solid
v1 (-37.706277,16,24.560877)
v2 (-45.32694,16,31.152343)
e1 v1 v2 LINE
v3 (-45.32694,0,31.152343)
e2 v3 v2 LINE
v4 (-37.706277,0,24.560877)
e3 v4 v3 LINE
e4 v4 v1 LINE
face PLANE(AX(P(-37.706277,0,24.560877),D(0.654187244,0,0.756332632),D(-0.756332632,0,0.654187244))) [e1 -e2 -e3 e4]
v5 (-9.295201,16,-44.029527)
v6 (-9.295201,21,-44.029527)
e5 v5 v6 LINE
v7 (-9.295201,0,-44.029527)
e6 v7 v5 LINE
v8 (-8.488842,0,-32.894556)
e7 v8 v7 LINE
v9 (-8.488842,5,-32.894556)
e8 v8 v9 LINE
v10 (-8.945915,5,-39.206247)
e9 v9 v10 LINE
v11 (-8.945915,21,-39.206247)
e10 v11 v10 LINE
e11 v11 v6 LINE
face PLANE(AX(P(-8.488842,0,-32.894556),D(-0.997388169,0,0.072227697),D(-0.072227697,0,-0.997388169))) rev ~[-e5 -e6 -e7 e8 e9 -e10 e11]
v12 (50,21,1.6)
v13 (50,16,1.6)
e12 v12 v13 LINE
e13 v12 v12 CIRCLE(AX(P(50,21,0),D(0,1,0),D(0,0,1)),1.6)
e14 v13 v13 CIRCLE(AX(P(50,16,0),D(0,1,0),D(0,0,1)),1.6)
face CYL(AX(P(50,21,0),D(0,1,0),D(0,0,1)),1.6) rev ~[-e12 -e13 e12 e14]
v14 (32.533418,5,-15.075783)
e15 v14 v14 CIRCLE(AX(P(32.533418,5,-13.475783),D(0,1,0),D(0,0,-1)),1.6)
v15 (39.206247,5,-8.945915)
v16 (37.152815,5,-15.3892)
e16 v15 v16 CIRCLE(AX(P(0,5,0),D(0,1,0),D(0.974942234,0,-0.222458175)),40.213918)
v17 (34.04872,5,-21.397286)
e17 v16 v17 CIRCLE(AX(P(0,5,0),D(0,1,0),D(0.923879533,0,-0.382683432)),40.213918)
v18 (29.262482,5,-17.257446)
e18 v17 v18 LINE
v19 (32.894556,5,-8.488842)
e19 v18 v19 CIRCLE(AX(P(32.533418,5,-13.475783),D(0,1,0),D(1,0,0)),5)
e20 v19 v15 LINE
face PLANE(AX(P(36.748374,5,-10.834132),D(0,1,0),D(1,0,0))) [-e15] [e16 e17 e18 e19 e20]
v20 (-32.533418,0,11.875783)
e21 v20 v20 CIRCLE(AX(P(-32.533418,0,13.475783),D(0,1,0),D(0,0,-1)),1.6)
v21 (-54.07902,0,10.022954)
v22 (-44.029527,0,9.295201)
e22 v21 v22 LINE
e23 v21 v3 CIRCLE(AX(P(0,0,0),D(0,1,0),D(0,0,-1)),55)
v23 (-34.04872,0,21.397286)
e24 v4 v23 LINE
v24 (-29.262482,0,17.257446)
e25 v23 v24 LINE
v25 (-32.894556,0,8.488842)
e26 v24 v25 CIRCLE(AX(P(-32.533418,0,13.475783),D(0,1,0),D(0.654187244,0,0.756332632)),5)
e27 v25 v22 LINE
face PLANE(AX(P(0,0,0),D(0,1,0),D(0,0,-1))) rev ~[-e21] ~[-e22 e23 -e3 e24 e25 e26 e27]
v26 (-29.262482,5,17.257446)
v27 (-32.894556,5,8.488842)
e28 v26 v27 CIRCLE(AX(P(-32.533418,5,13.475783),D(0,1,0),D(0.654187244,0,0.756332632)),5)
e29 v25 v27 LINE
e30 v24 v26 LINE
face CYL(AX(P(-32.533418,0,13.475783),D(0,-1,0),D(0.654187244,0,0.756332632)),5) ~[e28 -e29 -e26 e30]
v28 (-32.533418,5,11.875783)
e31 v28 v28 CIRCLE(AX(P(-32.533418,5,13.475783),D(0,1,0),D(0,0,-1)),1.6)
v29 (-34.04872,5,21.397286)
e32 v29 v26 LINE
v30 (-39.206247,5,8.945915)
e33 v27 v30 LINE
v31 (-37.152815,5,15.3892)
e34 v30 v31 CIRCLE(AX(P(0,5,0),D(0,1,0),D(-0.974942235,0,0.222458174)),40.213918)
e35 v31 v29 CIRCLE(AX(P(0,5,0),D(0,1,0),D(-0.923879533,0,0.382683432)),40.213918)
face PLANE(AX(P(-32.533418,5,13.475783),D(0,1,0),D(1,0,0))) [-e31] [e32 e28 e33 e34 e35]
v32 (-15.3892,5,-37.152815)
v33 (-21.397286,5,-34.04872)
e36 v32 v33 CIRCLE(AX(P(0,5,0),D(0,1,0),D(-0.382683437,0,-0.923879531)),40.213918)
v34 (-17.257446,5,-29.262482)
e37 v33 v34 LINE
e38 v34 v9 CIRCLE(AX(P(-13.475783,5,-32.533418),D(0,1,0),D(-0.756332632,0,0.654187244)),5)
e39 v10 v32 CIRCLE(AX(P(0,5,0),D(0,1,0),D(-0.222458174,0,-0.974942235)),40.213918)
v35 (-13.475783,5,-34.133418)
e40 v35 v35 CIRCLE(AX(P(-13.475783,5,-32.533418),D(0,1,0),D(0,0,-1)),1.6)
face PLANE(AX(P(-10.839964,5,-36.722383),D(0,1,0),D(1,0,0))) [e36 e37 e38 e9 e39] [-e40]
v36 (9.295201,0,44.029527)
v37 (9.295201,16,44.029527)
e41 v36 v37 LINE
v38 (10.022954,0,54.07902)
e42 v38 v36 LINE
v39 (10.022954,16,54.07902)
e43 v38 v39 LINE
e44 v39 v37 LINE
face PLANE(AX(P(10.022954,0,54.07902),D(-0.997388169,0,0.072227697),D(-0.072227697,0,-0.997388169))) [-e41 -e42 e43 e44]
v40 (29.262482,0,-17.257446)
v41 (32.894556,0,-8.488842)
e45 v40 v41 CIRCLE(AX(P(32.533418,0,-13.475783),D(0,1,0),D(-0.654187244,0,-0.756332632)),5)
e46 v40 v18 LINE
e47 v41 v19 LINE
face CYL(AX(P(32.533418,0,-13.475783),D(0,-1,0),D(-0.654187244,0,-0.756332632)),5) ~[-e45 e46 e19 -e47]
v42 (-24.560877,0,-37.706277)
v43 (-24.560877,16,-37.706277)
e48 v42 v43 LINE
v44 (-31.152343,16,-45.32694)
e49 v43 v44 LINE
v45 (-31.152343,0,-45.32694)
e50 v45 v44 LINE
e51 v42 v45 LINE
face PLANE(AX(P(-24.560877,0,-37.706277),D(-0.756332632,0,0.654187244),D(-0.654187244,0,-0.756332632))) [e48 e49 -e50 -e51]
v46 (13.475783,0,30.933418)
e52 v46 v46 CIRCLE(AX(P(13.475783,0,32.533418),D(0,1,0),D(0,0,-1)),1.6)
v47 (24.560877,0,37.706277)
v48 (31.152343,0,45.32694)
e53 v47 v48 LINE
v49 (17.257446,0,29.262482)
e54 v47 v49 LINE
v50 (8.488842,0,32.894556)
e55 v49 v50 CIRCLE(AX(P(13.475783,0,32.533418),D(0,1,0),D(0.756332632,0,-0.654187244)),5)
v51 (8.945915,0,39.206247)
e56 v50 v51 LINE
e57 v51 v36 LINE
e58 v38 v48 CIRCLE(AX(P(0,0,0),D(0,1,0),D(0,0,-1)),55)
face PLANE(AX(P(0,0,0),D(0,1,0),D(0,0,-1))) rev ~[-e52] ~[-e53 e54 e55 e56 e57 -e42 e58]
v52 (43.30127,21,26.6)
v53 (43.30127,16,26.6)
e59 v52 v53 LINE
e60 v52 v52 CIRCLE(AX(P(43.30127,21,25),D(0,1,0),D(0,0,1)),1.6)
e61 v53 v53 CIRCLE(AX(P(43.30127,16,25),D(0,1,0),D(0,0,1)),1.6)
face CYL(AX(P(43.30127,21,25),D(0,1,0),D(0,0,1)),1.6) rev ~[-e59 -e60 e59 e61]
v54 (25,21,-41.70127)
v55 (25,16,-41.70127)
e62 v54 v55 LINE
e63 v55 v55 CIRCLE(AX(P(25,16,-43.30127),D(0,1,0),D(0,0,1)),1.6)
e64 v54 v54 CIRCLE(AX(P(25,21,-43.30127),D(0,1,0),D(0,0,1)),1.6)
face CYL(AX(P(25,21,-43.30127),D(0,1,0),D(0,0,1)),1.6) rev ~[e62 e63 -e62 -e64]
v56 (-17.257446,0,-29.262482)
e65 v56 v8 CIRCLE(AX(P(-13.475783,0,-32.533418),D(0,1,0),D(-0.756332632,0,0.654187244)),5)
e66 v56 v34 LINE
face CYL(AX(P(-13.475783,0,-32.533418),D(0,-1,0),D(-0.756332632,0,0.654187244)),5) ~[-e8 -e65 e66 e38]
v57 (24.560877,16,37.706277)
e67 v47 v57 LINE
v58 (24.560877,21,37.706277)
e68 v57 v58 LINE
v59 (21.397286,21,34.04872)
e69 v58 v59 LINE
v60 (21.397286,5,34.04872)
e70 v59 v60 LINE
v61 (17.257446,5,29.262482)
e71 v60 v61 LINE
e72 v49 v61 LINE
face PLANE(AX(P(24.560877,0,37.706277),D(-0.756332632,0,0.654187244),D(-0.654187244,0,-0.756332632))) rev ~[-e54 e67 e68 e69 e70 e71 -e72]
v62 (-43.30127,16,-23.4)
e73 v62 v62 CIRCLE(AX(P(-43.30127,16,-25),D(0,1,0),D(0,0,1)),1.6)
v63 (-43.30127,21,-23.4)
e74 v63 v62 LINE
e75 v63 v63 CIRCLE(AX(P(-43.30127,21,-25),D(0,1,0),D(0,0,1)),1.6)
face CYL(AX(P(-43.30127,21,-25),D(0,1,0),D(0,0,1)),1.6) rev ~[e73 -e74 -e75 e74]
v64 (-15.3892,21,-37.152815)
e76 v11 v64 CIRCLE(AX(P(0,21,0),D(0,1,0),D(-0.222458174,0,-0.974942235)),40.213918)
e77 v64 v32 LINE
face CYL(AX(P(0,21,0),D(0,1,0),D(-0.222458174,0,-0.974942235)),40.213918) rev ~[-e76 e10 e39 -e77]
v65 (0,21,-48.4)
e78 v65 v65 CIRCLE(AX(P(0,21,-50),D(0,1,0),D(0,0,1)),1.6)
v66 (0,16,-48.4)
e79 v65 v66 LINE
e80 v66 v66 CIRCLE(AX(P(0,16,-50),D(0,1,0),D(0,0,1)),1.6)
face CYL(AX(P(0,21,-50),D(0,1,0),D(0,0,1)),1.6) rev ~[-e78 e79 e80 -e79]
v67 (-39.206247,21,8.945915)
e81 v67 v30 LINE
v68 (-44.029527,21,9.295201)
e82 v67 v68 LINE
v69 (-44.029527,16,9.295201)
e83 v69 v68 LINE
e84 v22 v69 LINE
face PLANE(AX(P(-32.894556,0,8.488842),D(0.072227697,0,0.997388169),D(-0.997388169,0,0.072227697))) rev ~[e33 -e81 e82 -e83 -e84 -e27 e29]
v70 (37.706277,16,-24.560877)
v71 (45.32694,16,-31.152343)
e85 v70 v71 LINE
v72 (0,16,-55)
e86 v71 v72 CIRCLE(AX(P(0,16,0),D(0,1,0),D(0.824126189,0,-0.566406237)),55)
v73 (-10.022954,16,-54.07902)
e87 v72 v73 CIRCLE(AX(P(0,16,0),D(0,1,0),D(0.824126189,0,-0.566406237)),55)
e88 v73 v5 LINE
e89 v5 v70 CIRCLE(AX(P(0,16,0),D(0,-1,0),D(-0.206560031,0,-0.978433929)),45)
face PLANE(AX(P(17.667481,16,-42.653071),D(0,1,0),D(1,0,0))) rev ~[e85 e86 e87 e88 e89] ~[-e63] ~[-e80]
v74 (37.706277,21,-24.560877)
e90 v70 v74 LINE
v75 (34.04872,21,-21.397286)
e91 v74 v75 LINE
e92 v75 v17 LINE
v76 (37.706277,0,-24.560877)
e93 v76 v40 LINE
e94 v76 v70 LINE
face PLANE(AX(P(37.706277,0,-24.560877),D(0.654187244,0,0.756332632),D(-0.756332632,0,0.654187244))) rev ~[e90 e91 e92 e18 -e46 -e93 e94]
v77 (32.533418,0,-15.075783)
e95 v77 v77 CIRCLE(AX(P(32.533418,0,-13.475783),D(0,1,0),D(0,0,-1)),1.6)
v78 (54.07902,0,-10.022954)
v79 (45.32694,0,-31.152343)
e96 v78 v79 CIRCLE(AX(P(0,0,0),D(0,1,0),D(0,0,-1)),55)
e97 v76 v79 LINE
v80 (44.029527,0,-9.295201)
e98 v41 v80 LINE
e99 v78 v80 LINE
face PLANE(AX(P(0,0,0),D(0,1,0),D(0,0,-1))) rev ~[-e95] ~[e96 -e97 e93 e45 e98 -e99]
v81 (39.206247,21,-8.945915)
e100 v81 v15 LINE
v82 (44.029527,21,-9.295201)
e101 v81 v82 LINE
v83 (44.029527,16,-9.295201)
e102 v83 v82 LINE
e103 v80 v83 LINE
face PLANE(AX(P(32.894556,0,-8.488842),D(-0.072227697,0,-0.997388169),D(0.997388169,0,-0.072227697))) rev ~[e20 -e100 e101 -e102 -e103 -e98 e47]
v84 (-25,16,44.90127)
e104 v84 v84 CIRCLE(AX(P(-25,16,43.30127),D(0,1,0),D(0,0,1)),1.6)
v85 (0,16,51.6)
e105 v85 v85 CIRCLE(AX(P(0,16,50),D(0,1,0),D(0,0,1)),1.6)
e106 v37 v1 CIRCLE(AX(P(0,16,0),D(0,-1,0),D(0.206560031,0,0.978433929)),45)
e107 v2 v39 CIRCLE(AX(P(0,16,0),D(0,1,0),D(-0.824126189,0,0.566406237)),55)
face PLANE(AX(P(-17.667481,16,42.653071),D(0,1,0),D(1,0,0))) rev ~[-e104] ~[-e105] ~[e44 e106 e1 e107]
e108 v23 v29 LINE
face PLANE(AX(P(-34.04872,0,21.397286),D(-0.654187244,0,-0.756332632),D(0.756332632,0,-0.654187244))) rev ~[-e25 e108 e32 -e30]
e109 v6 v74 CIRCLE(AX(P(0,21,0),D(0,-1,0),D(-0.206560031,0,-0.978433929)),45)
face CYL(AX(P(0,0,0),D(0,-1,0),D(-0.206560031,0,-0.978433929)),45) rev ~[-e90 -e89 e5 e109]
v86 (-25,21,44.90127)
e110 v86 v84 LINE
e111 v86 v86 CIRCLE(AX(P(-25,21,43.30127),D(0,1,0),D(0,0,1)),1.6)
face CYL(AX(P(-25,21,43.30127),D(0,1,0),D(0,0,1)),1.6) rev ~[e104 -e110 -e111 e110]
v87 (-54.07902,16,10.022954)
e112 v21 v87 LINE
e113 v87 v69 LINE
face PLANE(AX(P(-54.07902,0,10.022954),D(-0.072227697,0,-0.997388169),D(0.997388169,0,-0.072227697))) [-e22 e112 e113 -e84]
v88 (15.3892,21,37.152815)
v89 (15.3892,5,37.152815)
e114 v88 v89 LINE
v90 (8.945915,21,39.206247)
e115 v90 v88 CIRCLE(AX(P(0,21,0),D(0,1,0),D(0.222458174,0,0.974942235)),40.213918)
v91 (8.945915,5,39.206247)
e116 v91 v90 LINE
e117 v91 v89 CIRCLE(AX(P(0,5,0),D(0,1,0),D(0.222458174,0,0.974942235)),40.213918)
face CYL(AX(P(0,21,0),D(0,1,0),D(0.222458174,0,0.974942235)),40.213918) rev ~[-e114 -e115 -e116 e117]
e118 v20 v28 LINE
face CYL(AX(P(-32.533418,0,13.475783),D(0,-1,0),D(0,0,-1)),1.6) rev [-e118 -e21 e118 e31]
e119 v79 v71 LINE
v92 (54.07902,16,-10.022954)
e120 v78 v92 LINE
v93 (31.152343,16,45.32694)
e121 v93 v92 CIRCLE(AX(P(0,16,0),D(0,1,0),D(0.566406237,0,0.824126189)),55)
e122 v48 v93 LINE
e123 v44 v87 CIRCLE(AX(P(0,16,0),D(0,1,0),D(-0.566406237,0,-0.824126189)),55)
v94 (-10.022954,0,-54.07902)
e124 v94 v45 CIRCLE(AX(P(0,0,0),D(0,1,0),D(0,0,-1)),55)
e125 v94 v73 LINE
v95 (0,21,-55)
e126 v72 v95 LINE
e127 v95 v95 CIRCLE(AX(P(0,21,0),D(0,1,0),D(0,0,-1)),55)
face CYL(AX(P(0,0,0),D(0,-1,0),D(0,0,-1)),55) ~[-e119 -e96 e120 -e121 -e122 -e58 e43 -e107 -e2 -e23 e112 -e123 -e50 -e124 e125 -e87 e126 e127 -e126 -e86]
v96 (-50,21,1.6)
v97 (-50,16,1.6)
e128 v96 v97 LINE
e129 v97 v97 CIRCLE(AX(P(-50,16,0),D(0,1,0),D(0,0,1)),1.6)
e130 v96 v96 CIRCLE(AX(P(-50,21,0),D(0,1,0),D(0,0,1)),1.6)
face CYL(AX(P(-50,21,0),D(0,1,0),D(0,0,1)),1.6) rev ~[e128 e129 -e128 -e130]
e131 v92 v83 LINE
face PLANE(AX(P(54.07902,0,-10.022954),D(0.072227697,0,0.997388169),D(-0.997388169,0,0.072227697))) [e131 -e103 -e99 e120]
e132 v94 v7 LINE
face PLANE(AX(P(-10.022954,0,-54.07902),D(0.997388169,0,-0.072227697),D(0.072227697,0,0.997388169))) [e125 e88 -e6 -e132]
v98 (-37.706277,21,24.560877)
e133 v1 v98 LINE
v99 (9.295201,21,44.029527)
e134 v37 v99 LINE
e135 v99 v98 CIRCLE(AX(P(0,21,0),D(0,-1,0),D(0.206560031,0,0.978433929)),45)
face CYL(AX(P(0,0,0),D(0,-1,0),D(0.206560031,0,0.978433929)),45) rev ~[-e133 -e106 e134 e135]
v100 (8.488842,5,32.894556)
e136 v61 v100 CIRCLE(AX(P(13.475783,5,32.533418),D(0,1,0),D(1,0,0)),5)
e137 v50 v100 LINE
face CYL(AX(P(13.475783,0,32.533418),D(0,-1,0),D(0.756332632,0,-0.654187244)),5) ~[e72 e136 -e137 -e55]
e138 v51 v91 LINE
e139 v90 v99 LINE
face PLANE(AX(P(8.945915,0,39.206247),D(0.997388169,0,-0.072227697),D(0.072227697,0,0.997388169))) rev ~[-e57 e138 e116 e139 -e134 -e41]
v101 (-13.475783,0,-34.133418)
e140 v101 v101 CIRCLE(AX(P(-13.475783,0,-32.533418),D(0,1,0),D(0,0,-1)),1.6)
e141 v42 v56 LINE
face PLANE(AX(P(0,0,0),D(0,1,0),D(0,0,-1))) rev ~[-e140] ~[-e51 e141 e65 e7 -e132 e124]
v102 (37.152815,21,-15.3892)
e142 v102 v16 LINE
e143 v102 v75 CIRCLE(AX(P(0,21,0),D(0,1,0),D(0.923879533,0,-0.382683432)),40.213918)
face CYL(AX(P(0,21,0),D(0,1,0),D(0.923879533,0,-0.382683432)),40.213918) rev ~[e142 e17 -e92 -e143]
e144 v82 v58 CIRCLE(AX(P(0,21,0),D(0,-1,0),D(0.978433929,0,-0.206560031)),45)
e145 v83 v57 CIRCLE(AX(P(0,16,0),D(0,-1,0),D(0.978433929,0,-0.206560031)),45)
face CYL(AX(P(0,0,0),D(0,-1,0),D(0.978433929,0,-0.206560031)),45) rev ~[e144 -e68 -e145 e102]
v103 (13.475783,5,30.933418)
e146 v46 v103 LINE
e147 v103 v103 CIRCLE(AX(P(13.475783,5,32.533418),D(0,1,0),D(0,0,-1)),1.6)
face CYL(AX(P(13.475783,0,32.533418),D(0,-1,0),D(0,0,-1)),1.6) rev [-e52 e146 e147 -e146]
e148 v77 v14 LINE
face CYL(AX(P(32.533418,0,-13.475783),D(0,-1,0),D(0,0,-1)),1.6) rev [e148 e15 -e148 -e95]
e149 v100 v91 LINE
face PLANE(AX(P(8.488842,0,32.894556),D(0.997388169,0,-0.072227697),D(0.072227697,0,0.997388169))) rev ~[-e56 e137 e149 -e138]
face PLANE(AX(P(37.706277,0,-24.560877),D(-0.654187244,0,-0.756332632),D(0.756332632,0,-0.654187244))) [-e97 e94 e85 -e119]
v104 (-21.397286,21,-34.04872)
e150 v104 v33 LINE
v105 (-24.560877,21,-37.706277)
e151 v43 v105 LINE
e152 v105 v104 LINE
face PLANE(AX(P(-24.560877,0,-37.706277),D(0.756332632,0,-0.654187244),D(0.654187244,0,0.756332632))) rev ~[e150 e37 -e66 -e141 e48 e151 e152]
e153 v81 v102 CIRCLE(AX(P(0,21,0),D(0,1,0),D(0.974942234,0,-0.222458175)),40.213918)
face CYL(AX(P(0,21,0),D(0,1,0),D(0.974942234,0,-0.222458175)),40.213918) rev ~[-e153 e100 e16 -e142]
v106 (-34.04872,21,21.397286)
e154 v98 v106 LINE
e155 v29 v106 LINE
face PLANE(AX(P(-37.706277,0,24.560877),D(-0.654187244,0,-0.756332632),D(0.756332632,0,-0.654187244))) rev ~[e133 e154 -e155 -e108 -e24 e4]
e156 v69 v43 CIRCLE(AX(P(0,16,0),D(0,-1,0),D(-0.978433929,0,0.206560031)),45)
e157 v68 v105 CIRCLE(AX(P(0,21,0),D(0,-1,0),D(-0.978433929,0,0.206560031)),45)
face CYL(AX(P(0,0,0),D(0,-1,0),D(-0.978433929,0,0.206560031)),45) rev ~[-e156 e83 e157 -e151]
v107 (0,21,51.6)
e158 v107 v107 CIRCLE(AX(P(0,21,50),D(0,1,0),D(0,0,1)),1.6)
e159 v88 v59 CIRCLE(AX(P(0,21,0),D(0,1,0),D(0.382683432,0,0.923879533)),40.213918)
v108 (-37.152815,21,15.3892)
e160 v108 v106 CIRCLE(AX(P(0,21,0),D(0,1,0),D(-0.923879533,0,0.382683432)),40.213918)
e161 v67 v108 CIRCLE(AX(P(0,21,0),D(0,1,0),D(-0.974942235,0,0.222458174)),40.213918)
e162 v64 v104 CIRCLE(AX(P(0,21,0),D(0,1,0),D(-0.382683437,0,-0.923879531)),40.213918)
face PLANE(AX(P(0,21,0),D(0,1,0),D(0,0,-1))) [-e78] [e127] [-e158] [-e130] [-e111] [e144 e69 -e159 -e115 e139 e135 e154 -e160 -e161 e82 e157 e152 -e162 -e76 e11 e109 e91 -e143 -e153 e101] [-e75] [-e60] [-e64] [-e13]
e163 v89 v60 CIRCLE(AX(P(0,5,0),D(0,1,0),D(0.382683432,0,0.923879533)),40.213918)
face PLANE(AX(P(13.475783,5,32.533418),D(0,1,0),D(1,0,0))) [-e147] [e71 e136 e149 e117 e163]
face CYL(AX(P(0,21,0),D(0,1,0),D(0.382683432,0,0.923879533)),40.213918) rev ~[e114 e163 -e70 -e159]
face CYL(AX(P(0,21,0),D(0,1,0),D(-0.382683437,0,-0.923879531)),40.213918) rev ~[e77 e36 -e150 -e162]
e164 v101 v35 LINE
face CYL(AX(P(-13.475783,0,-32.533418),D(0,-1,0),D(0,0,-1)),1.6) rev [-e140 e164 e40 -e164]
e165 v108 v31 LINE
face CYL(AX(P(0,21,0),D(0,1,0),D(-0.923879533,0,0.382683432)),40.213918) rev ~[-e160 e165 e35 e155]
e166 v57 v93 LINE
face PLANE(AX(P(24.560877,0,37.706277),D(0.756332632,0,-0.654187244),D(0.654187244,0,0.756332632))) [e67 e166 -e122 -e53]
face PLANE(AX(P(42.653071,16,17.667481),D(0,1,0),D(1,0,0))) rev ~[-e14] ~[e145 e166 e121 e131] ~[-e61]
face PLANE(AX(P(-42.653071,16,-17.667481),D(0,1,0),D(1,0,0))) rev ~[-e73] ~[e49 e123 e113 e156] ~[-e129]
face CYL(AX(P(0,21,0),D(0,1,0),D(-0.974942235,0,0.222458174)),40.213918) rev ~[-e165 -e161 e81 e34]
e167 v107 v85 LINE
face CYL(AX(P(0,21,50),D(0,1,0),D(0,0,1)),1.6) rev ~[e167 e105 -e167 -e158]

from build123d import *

# Parameters (mm, degrees)
SKETCH1_R           = 55
SKETCH1_R_2         = 1.6
BOSS_EXTRUDE8_DEPTH = 21
CUT_EXTRUDE1_DEPTH  = 16
CUT_EXTRUDE7_START  = 21
SKETCH1_22_R        = 5
SKETCH1_22_R_2      = 1.6
CUT_EXTRUDE7_DEPTH  = 16
SKETCH6_R           = 1.6
CUT_EXTRUDE8_DEPTH  = 81.566742518


with BuildPart() as part:
    # Sketch1 → Boss-Extrude8 (new body)
    with BuildSketch(Plane(origin=(0, 0, 0), x_dir=(1, 0, 0), z_dir=(0, 1, 0))):
        with Locations(Location((0, 0, 0), (0, 0, 90))):
            Circle(SKETCH1_R)
        with BuildLine():
            Line((-24.560877041, 37.706276918), (-17.257446053, 29.262481604))
            ThreePointArc((-17.257446053, 29.262481604), (-11.562365731, 27.91402016), (-8.488842047, 32.894556307))
            Line((-8.488842047, 32.894556307), (-9.295201395, 44.029526809))
            ThreePointArc((-9.295201395, 44.029526809), (17.220754456, 41.574578963), (37.706276918, 24.560877041))
            Line((37.706276918, 24.560877041), (29.262481604, 17.257446053))
            ThreePointArc((29.262481604, 17.257446053), (27.91402016, 11.562365731), (32.894556307, 8.488842047))
            Line((32.894556307, 8.488842047), (44.029526809, 9.295201395))
            ThreePointArc((44.029526809, 9.295201395), (41.574578963, -17.220754456), (24.560877041, -37.706276918))
            Line((24.560877041, -37.706276918), (17.257446053, -29.262481604))
            ThreePointArc((17.257446053, -29.262481604), (11.562365731, -27.91402016), (8.488842047, -32.894556307))
            Line((8.488842047, -32.894556307), (8.94591471, -39.206246783))
            Line((8.94591471, -39.206246783), (9.295201395, -44.029526809))
            ThreePointArc((9.295201395, -44.029526809), (-17.220754456, -41.574578963), (-37.706276918, -24.560877041))
            Line((-37.706276918, -24.560877041), (-34.04871992, -21.39728601))
            Line((-34.04871992, -21.39728601), (-29.262481604, -17.257446053))
            ThreePointArc((-29.262481604, -17.257446053), (-27.91402016, -11.562365731), (-32.894556307, -8.488842047))
            Line((-32.894556307, -8.488842047), (-44.029526809, -9.295201395))
            ThreePointArc((-44.029526809, -9.295201395), (-41.574578963, 17.220754456), (-24.560877041, 37.706276918))
        make_face(mode=Mode.SUBTRACT)
        with Locations(Location((-13.475782892, 32.533417823, 0), (0, 0, 90))):
            Circle(SKETCH1_R_2, mode=Mode.SUBTRACT)
        with Locations(Location((32.533417823, 13.475782892, 0), (0, 0, 90))):
            Circle(SKETCH1_R_2, mode=Mode.SUBTRACT)
        with Locations(Location((-32.533417823, -13.475782892, 0), (0, 0, 90))):
            Circle(SKETCH1_R_2, mode=Mode.SUBTRACT)
        with Locations(Location((13.475782892, -32.533417823, 0), (0, 0, 90))):
            Circle(SKETCH1_R_2, mode=Mode.SUBTRACT)
    extrude(amount=BOSS_EXTRUDE8_DEPTH)

    # Sketch1_15 → Cut-Extrude1 (cut)
    with BuildSketch(Plane(origin=(0, 0, 0), x_dir=(1, 0, 0), z_dir=(0, 1, 0))):
        with BuildLine():
            ThreePointArc((-9.295201395, 44.029526809), (17.220754456, 41.574578963), (37.706276918, 24.560877041))
            Line((37.706276918, 24.560877041), (45.326940374, 31.152343031))
            ThreePointArc((45.326940374, 31.152343031), (21.04758878, 50.813374288), (-10.022953902, 54.079019916))
            Line((-10.022953902, 54.079019916), (-9.295201395, 44.029526809))
        make_face()
        with BuildLine():
            ThreePointArc((-44.029526809, -9.295201395), (-41.574578963, 17.220754456), (-24.560877041, 37.706276918))
            Line((-24.560877041, 37.706276918), (-31.152343031, 45.326940374))
            ThreePointArc((-31.152343031, 45.326940374), (-50.813374288, 21.04758878), (-54.079019916, -10.022953902))
            Line((-54.079019916, -10.022953902), (-44.029526809, -9.295201395))
        make_face()
        with BuildLine():
            Line((54.079019916, 10.022953902), (44.029526809, 9.295201395))
            ThreePointArc((44.029526809, 9.295201395), (41.574578963, -17.220754456), (24.560877041, -37.706276918))
            Line((24.560877041, -37.706276918), (31.152343031, -45.326940374))
            ThreePointArc((31.152343031, -45.326940374), (50.813374288, -21.04758878), (54.079019916, 10.022953902))
        make_face()
        with BuildLine():
            ThreePointArc((9.295201395, -44.029526809), (-17.220754456, -41.574578963), (-37.706276918, -24.560877041))
            Line((-37.706276918, -24.560877041), (-45.326940374, -31.152343031))
            ThreePointArc((-45.326940374, -31.152343031), (-21.04758878, -50.813374288), (10.022953902, -54.079019916))
            Line((10.022953902, -54.079019916), (9.295201395, -44.029526809))
        make_face()
    extrude(amount=CUT_EXTRUDE1_DEPTH, mode=Mode.SUBTRACT)

    # Sketch1_22 → Cut-Extrude7 (cut)
    with BuildSketch(Plane(origin=(0, 0, 0), x_dir=(1, 0, 0), z_dir=(0, 1, 0)).offset(CUT_EXTRUDE7_START)):
        with Locations((13.475782892, -32.533417823)):
            Circle(SKETCH1_22_R)
        with Locations(Location((13.475782892, -32.533417823, 0), (0, 0, 90))):
            Circle(SKETCH1_22_R_2, mode=Mode.SUBTRACT)
        with BuildLine():
            ThreePointArc((15.389200056, -37.152815484), (18.458608875, -35.727285584), (21.39728601, -34.04871992))
            Line((21.39728601, -34.04871992), (17.257446053, -29.262481604))
            ThreePointArc((17.257446053, -29.262481604), (18.16130932, -30.788183712), (18.475782892, -32.533417823))
            ThreePointArc((18.475782892, -32.533417823), (17.633130954, -35.311268987), (15.389200056, -37.152815484))
        make_face()
        with BuildLine():
            ThreePointArc((8.94591471, -39.206246783), (12.210798405, -38.315213416), (15.389200056, -37.152815484))
            ThreePointArc((15.389200056, -37.152815484), (10.849982107, -36.788434889), (8.488842047, -32.894556307))
            Line((8.488842047, -32.894556307), (8.94591471, -39.206246783))
        make_face()
        with BuildLine():
            ThreePointArc((39.206246783, 8.94591471), (38.315213416, 12.210798403), (37.152815486, 15.389200052))
            ThreePointArc((37.152815486, 15.389200052), (37.437344225, 14.451234501), (37.533417823, 13.475782892))
            ThreePointArc((37.533417823, 13.475782892), (36.194407608, 10.070323483), (32.894556307, 8.488842047))
            Line((32.894556307, 8.488842047), (39.206246783, 8.94591471))
        make_face()
        with Locations((32.533417823, 13.475782892)):
            Circle(SKETCH1_22_R)
        with Locations(Location((32.533417823, 13.475782892, 0), (0, 0, 90))):
            Circle(SKETCH1_22_R_2, mode=Mode.SUBTRACT)
        with BuildLine():
            ThreePointArc((37.152815486, 15.389200052), (35.727285585, 18.458608873), (34.04871992, 21.39728601))
            Line((34.04871992, 21.39728601), (29.262481604, 17.257446053))
            ThreePointArc((29.262481604, 17.257446053), (33.685447704, 18.341255855), (37.152815486, 15.389200052))
        make_face()
        with BuildLine():
            Line((-8.488842047, 32.894556307), (-8.94591471, 39.206246783))
            ThreePointArc((-8.94591471, 39.206246783), (-12.210798505, 38.315213384), (-15.38920025, 37.152815404))
            ThreePointArc((-15.38920025, 37.152815404), (-10.849982197, 36.788434944), (-8.488842047, 32.894556307))
        make_face()
        with BuildLine():
            ThreePointArc((-17.257446053, 29.262481604), (-18.34125588, 33.685447599), (-15.38920025, 37.152815404))
            ThreePointArc((-15.38920025, 37.152815404), (-18.458608968, 35.727285536), (-21.39728601, 34.04871992))
            Line((-21.39728601, 34.04871992), (-17.257446053, 29.262481604))
        make_face()
        with Locations((-13.475782892, 32.533417823)):
            Circle(SKETCH1_22_R)
        with Locations(Location((-13.475782892, 32.533417823, 0), (0, 0, 90))):
            Circle(SKETCH1_22_R_2, mode=Mode.SUBTRACT)
        with Locations((-32.533417823, -13.475782892)):
            Circle(SKETCH1_22_R)
        with Locations(Location((-32.533417823, -13.475782892, 0), (0, 0, 90))):
            Circle(SKETCH1_22_R_2, mode=Mode.SUBTRACT)
        with BuildLine():
            ThreePointArc((-29.262481604, -17.257446053), (-33.685447701, -18.341255856), (-37.152815484, -15.389200057))
            ThreePointArc((-37.152815484, -15.389200057), (-35.727285584, -18.458608875), (-34.04871992, -21.39728601))
            Line((-34.04871992, -21.39728601), (-29.262481604, -17.257446053))
        make_face()
        with BuildLine():
            Line((-32.894556307, -8.488842047), (-39.206246783, -8.94591471))
            ThreePointArc((-39.206246783, -8.94591471), (-38.315213416, -12.210798405), (-37.152815484, -15.389200057))
            ThreePointArc((-37.152815484, -15.389200057), (-36.788434889, -10.849982108), (-32.894556307, -8.488842047))
        make_face()
    extrude(amount=-CUT_EXTRUDE7_DEPTH, mode=Mode.SUBTRACT)

    # Sketch6 → Cut-Extrude8 (cut, through all)
    with BuildSketch(Plane(origin=(0, 21, 0), x_dir=(1, 0, 0), z_dir=(0, 1, 0))):
        with Locations(Location((0, 50, 0), (0, 0, 270))):
            Circle(SKETCH6_R)
        with Locations(Location((25, 43.301270189, 0), (0, 0, 270))):
            Circle(SKETCH6_R)
        with Locations(Location((50, 0, 0), (0, 0, 270))):
            Circle(SKETCH6_R)
        with Locations(Location((43.301270189, -25, 0), (0, 0, 270))):
            Circle(SKETCH6_R)
        with Locations(Location((0, -50, 0), (0, 0, 270))):
            Circle(SKETCH6_R)
        with Locations(Location((-25, -43.301270189, 0), (0, 0, 270))):
            Circle(SKETCH6_R)
        with Locations(Location((-50, 0, 0), (0, 0, 270))):
            Circle(SKETCH6_R)
        with Locations(Location((-43.301270189, 25, 0), (0, 0, 270))):
            Circle(SKETCH6_R)
    extrude(amount=-CUT_EXTRUDE8_DEPTH, mode=Mode.SUBTRACT)


solid = part.part
